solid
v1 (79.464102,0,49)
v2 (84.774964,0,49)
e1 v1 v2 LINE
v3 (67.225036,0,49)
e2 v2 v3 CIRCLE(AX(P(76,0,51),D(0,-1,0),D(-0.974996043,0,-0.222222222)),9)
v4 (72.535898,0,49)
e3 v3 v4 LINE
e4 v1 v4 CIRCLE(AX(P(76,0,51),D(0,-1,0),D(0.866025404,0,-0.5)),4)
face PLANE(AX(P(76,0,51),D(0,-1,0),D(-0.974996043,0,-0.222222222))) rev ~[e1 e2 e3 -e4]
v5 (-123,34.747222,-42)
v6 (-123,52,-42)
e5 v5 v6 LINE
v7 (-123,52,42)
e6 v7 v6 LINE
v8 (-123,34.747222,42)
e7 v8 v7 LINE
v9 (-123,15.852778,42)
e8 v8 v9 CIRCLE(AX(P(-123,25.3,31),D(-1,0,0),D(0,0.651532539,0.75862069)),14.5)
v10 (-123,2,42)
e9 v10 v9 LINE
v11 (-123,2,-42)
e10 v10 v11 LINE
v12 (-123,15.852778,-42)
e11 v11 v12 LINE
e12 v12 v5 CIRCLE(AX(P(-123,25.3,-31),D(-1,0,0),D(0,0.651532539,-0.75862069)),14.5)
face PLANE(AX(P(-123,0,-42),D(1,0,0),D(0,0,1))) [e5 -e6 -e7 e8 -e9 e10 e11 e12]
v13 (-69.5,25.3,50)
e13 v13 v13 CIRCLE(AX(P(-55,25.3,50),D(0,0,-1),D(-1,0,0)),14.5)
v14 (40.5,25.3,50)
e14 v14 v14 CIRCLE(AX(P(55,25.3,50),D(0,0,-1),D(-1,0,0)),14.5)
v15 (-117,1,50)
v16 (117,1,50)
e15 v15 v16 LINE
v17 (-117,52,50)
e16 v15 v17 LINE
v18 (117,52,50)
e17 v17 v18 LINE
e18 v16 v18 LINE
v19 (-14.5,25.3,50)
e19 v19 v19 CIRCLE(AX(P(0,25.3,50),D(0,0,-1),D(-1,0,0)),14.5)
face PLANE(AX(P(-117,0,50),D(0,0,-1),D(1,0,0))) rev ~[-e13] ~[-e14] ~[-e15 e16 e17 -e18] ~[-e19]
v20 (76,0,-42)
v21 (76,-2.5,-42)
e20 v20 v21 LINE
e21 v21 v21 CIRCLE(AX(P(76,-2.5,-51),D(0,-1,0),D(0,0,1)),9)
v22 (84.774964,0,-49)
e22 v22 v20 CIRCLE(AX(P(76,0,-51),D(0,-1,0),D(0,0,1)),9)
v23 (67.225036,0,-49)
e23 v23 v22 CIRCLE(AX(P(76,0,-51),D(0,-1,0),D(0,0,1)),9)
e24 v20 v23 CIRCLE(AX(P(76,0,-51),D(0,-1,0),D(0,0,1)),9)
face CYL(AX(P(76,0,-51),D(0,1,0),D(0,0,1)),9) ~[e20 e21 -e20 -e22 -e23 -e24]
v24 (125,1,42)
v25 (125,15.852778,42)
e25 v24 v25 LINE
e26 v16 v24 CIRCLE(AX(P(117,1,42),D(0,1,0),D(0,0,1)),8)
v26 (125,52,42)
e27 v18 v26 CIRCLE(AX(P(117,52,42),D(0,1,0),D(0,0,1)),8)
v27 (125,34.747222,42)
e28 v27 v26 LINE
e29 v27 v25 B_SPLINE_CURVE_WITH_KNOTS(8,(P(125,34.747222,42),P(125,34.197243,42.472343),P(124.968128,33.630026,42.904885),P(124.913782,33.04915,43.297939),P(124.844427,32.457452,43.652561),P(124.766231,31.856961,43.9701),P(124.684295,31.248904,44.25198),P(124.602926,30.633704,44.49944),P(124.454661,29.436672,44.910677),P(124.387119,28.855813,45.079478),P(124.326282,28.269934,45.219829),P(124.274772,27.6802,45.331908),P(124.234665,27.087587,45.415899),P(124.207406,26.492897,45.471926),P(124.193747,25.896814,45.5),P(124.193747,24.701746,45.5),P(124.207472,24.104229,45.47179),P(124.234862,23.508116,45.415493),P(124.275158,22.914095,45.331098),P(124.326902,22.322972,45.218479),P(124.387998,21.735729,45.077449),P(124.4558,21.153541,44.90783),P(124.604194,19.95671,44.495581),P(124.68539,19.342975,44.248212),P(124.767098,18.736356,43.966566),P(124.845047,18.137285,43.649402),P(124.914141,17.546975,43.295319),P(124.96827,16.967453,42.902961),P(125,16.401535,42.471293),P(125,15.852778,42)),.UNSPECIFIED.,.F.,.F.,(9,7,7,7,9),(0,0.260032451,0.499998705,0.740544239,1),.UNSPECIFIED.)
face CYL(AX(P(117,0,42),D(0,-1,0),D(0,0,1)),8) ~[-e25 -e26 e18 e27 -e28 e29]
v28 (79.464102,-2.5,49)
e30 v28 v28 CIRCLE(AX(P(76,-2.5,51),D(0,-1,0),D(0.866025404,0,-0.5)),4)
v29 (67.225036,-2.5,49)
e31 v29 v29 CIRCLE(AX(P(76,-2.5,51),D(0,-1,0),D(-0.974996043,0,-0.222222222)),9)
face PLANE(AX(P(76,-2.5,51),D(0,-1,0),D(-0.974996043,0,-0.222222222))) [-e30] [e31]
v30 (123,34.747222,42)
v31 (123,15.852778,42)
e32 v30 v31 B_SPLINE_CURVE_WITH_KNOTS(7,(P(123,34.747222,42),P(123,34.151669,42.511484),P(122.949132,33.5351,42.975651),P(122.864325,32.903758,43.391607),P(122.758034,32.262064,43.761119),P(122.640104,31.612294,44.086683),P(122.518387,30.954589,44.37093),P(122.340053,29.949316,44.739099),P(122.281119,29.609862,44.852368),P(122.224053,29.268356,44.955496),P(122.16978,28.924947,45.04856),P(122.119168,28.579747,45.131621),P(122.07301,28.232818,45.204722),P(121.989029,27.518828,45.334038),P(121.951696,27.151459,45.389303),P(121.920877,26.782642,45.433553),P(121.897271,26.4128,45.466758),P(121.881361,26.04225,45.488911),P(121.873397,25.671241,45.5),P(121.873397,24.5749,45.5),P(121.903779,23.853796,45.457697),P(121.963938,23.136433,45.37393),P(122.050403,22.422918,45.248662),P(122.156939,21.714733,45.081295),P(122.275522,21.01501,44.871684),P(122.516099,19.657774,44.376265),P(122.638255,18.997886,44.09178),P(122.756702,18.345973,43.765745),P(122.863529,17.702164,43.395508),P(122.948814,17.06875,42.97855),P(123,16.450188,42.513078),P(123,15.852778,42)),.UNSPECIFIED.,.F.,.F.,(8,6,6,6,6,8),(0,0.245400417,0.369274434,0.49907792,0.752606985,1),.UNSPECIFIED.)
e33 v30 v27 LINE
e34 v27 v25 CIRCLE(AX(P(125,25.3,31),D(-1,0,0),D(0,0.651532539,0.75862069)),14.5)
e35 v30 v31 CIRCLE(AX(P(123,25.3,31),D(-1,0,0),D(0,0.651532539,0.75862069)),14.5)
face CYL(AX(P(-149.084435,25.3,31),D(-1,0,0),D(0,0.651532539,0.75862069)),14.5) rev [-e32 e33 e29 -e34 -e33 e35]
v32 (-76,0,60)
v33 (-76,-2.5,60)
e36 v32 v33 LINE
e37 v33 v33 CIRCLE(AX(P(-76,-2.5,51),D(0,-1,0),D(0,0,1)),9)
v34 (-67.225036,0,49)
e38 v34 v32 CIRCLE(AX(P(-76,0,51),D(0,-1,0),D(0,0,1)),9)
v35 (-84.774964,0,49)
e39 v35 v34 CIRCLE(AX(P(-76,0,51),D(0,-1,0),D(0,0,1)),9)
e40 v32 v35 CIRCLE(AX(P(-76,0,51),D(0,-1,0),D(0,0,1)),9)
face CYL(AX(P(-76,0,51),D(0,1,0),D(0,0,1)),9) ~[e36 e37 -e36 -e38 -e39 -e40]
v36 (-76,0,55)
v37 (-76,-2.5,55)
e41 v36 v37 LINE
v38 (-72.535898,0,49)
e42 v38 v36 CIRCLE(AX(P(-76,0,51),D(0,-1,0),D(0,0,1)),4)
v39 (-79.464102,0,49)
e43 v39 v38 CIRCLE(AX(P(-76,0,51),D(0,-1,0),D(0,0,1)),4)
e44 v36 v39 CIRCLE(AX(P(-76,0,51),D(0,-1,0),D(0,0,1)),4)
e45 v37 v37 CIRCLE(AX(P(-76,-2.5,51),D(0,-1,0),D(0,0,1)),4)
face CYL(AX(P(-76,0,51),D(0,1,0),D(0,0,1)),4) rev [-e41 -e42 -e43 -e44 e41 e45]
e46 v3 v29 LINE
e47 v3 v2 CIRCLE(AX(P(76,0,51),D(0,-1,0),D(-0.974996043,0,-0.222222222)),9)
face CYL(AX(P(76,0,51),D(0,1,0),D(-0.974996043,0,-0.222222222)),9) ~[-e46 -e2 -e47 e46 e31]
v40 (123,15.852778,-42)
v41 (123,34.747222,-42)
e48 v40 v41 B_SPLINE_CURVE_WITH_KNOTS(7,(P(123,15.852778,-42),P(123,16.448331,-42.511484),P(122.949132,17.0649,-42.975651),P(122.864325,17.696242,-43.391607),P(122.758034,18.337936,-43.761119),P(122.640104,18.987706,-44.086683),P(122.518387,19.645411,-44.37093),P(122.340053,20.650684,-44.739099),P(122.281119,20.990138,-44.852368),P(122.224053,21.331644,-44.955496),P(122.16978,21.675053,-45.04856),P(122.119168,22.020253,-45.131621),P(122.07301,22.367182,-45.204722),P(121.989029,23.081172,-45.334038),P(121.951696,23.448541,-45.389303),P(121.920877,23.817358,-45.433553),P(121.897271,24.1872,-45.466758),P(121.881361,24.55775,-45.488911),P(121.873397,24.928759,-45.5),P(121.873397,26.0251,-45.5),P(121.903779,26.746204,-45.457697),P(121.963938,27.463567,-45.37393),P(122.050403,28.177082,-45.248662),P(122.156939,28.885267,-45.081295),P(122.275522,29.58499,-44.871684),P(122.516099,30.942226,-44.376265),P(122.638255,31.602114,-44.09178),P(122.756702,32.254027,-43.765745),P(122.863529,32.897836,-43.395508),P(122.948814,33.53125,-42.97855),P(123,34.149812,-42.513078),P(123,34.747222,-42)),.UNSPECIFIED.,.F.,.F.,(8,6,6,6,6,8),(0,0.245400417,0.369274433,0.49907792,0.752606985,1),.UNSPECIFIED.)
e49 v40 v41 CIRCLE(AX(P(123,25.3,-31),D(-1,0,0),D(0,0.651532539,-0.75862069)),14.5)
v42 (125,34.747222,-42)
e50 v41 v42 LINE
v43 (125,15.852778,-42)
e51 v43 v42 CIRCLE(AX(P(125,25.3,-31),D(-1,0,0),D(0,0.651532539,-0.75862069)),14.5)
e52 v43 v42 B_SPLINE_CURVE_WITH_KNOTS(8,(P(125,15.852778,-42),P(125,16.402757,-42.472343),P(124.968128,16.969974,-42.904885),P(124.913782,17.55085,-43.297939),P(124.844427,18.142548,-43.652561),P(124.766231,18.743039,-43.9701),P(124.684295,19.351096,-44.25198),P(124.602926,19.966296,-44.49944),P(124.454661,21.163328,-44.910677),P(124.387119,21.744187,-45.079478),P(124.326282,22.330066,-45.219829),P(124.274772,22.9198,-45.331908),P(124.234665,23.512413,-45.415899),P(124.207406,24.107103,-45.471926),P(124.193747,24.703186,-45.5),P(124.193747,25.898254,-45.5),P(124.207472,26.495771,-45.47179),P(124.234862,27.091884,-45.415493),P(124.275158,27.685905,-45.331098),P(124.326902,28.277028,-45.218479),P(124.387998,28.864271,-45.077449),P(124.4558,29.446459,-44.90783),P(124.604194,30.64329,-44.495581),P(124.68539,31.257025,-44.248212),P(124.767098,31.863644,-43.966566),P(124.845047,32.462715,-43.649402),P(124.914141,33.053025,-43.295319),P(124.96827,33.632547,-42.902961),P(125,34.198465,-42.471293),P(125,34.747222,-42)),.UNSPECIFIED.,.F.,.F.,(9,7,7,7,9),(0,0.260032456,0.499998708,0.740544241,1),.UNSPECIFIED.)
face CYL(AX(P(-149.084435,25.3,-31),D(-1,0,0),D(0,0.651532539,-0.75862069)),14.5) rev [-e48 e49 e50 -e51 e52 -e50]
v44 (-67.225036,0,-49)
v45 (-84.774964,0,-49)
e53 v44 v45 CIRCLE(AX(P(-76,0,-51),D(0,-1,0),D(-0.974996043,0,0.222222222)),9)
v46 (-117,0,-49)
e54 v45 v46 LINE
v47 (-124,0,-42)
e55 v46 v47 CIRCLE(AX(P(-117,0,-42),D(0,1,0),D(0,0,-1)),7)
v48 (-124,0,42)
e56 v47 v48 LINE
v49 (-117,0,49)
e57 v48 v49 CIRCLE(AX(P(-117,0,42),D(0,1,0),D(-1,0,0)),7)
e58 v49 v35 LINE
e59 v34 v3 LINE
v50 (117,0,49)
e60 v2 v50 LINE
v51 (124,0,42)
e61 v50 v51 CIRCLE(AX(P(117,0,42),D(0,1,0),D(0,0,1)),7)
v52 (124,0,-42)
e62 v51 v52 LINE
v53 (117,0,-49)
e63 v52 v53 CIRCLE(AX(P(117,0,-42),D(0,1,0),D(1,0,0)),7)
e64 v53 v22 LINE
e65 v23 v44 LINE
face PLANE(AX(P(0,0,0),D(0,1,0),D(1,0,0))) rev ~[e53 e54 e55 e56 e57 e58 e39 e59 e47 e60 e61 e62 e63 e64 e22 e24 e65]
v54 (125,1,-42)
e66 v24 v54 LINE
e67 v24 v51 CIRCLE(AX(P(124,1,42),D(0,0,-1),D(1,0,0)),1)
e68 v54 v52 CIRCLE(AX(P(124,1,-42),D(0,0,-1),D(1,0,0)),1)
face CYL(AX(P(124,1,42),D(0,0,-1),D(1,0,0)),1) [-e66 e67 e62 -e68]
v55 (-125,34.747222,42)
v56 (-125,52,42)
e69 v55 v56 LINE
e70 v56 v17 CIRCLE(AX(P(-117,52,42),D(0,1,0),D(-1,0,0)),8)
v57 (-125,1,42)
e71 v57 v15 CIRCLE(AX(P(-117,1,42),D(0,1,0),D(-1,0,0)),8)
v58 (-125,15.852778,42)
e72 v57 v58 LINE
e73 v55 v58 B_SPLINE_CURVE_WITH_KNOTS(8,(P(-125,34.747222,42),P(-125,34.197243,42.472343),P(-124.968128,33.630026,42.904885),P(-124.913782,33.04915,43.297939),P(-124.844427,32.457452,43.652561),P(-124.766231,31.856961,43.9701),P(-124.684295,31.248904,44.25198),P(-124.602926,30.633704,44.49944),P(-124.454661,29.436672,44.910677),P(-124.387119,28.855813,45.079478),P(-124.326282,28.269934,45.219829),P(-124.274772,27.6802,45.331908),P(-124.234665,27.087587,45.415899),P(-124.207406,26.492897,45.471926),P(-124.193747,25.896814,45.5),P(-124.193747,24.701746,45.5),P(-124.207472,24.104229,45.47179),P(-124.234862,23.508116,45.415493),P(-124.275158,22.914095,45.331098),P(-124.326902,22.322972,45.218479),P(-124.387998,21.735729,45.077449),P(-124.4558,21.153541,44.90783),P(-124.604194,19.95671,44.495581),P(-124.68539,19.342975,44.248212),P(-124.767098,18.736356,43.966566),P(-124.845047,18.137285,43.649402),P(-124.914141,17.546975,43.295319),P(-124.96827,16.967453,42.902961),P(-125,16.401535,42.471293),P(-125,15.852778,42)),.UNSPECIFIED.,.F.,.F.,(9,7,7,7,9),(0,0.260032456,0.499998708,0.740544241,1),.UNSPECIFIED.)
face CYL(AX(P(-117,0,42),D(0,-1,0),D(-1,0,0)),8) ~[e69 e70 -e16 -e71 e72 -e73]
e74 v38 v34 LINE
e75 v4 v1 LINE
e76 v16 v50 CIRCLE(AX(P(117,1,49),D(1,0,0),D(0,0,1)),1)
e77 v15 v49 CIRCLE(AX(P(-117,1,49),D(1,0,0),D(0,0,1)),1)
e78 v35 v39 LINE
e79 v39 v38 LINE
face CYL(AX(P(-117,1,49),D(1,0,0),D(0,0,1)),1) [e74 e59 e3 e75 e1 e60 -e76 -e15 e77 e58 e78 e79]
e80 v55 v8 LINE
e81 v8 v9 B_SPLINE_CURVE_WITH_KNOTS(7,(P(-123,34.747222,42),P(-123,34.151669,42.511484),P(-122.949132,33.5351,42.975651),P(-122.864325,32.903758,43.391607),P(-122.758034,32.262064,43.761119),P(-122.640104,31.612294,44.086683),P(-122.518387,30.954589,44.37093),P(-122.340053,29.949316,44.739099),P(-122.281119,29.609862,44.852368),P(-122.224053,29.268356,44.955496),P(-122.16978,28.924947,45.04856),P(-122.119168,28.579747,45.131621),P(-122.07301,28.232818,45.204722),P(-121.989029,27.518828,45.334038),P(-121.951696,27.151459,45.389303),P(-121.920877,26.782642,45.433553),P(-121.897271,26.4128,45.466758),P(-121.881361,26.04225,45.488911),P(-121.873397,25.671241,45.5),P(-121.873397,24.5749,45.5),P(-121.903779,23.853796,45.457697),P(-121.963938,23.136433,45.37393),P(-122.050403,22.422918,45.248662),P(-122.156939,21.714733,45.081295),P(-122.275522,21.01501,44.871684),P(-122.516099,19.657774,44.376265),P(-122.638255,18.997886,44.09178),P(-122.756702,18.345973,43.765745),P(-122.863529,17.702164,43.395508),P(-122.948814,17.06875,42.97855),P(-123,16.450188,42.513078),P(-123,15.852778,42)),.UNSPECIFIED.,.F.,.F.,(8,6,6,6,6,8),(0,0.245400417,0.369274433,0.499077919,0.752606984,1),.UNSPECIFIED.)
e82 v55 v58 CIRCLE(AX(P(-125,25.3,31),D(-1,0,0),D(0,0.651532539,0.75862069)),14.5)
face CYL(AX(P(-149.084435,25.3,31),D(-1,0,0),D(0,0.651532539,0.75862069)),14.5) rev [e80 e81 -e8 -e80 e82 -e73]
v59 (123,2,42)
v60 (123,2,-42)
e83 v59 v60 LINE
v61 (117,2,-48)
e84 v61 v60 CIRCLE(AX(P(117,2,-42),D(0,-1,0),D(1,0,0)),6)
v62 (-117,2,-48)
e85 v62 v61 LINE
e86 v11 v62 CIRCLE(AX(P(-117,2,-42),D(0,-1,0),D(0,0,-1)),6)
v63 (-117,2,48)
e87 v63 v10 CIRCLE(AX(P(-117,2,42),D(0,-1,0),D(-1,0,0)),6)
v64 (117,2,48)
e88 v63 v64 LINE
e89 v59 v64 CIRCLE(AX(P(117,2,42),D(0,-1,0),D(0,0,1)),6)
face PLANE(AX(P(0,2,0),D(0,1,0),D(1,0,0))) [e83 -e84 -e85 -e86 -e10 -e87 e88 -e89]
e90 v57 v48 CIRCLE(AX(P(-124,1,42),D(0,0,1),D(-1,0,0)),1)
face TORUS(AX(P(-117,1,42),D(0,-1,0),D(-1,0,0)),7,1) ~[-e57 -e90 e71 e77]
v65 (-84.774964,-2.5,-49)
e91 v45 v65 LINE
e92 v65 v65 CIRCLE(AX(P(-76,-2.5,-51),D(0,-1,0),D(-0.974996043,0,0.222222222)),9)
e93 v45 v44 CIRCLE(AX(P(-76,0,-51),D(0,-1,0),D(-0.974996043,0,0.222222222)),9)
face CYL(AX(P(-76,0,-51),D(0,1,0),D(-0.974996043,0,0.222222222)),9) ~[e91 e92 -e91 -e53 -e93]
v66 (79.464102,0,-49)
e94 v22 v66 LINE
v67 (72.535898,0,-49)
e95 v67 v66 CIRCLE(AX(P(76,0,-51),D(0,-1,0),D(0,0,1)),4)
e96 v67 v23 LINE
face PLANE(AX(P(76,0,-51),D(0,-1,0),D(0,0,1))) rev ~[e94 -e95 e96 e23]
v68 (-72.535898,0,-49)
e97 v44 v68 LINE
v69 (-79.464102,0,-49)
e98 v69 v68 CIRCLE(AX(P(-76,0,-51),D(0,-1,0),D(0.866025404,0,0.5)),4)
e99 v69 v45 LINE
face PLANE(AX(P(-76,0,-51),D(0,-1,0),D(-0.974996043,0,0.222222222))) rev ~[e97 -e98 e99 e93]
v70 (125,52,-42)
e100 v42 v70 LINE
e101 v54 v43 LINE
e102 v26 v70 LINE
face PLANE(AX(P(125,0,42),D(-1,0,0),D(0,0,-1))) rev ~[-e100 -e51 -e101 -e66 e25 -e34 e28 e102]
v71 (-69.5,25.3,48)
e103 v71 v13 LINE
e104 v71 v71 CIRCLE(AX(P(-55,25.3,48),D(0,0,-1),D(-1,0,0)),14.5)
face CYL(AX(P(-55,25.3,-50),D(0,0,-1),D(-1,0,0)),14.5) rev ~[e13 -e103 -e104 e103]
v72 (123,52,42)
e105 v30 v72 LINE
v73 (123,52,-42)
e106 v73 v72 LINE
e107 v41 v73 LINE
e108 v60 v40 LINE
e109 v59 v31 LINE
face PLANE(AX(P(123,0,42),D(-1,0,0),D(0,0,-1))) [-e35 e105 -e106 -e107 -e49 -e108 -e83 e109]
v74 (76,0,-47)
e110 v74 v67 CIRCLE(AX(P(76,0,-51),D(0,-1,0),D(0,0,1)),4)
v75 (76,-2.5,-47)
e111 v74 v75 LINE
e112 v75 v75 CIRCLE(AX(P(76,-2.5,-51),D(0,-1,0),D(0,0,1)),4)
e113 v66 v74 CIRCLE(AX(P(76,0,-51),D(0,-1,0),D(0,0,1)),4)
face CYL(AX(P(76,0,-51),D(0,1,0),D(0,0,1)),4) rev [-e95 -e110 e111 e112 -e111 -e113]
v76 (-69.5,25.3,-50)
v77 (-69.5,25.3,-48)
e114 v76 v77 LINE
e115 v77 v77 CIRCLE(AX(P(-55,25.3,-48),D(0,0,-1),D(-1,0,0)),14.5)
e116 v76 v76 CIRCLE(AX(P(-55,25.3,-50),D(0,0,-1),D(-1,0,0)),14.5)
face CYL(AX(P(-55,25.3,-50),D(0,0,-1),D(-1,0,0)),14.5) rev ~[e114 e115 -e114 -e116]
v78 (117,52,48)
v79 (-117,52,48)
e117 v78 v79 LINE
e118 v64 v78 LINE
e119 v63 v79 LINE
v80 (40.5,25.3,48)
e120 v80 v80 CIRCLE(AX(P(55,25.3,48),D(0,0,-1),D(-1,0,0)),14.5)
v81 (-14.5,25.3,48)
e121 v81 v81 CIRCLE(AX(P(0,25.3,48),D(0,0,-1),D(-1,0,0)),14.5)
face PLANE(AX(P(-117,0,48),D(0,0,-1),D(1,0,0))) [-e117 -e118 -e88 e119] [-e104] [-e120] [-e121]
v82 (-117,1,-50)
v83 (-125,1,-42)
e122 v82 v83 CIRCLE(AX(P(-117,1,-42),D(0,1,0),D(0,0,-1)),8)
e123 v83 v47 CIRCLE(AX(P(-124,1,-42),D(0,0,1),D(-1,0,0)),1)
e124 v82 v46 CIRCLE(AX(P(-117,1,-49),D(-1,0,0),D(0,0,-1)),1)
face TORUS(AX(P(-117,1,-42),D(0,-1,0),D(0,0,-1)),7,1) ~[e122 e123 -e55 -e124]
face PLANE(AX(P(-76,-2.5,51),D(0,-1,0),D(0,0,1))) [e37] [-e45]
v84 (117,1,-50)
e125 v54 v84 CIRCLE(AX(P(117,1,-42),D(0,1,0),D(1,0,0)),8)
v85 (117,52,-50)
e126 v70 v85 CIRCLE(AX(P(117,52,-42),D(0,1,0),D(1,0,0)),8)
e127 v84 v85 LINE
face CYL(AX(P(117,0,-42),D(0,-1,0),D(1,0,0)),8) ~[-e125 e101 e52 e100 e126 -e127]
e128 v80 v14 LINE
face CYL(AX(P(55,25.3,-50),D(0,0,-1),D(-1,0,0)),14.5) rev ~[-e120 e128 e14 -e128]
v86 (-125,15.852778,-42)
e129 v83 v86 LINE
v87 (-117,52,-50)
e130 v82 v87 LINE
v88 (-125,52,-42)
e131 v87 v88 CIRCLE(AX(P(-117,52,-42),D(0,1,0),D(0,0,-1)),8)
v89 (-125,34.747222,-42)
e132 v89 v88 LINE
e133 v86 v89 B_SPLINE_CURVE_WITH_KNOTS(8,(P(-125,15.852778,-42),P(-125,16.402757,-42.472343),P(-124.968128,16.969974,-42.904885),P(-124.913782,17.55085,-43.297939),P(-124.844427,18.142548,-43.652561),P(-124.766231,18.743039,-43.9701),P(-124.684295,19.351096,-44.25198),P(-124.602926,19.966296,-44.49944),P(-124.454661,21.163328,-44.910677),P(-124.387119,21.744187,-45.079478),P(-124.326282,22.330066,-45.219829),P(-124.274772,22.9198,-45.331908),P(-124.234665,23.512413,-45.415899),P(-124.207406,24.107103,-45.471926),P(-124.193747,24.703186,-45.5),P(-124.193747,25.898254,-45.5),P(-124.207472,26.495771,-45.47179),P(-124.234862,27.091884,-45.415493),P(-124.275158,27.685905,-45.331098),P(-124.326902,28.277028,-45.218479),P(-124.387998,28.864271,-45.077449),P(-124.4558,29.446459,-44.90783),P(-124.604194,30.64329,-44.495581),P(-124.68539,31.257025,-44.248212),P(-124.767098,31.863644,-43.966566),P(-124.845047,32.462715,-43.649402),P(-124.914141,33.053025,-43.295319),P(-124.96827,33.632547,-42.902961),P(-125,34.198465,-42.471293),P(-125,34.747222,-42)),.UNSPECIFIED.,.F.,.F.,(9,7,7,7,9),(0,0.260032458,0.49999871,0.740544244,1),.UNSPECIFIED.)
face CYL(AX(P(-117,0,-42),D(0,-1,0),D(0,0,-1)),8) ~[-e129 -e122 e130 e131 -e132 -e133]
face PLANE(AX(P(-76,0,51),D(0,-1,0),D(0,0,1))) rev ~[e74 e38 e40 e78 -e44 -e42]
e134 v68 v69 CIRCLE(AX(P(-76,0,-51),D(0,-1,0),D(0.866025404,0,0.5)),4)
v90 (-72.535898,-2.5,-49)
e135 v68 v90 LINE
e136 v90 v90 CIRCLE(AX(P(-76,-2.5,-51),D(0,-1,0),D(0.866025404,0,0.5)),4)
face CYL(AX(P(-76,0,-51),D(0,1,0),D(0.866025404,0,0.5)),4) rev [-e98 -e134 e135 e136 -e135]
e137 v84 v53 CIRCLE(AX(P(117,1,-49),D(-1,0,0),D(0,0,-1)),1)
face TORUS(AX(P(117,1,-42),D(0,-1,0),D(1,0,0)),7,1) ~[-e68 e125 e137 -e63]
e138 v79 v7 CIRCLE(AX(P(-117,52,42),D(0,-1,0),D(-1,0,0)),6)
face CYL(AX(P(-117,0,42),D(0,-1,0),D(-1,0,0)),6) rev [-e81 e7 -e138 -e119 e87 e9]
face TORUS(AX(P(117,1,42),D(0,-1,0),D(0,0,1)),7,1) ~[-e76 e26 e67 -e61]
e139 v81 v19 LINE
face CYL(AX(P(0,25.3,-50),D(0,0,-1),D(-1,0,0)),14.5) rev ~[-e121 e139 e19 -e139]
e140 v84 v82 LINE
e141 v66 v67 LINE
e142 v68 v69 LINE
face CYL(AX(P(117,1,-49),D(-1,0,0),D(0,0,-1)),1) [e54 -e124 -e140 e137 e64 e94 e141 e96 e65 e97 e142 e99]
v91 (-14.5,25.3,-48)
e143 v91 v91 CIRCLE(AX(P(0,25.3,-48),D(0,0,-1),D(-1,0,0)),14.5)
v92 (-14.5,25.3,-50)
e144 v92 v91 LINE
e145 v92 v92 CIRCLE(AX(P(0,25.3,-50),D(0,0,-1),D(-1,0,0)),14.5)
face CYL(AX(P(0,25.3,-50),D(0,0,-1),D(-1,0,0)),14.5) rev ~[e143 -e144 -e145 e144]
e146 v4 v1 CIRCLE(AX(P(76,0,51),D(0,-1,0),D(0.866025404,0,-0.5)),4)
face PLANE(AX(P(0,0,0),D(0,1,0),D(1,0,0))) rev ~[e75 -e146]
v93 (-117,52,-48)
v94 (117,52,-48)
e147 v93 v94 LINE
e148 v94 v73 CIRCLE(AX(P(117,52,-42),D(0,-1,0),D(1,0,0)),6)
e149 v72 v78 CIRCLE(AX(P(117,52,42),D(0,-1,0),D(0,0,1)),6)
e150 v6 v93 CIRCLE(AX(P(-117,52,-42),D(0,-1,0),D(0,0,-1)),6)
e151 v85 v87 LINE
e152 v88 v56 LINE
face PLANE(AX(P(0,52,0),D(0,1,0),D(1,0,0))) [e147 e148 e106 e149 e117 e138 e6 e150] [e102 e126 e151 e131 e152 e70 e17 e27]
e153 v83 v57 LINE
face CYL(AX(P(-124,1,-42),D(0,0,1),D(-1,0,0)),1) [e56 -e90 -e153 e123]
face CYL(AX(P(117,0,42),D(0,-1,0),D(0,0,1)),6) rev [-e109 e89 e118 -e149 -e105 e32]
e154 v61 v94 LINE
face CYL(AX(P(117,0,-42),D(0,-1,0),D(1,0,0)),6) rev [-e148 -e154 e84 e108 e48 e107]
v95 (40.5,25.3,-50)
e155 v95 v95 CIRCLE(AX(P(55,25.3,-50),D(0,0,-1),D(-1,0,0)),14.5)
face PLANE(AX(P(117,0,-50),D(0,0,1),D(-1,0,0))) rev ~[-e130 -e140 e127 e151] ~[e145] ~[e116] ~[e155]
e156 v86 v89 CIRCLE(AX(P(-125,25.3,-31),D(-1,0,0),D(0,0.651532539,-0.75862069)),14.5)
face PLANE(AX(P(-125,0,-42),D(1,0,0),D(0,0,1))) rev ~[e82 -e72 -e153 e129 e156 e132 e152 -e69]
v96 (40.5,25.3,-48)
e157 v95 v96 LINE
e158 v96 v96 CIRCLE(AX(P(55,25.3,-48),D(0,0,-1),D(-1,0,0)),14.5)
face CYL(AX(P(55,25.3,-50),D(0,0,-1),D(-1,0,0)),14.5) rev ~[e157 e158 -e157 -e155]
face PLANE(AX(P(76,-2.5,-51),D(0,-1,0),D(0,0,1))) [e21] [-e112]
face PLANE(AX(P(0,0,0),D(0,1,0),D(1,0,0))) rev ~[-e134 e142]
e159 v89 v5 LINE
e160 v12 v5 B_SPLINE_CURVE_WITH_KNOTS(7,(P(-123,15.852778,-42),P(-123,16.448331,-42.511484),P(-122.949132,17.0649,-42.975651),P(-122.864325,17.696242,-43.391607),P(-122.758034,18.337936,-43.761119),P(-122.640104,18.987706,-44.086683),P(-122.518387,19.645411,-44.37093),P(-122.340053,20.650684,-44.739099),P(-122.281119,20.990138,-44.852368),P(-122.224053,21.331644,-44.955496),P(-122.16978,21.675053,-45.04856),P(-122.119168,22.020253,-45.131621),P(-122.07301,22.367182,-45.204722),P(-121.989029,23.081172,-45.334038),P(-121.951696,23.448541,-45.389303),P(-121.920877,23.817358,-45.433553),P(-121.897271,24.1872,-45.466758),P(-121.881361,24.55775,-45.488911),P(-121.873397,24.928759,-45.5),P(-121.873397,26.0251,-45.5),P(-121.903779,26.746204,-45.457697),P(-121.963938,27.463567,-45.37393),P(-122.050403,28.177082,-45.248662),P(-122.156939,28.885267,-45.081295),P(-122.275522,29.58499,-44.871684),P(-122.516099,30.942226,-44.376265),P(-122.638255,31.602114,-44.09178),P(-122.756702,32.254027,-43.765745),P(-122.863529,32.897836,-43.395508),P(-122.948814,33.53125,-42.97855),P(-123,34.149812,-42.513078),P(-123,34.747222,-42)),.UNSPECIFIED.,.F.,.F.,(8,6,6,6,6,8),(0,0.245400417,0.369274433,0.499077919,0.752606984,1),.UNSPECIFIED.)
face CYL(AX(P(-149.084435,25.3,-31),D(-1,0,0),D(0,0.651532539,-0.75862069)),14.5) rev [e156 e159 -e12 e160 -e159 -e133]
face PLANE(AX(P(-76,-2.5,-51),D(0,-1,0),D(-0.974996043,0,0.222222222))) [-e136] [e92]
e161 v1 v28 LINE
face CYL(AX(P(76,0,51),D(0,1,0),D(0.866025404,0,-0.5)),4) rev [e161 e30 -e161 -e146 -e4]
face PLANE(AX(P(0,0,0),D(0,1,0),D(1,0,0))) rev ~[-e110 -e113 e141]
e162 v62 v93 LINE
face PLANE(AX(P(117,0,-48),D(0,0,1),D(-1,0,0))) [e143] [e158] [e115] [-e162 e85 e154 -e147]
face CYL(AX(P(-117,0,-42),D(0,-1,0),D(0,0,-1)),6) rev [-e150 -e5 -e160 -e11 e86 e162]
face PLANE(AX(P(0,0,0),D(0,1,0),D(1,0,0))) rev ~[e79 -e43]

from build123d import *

# Parameters (mm, degrees)
BOSS_EXTRUDE1_DEPTH     = 52
FILLET1_R               = 1
SHELL1_T                = -2
SKETCH2_R               = 9
SKETCH2_R_2             = 4
BOSS_EXTRUDE2_DEPTH     = 2.5
SKETCH3_R               = 14.5
CUT_EXTRUDE1_DEPTH      = 175.439101121
CUT_EXTRUDE2_DEPTH      = 149.084435374
CUT_EXTRUDE2_DEPTH_BACK = 149.084435374
SKETCH4_R               = 14.5


with BuildPart() as part:
    # Sketch1 → Boss-Extrude1 (new body)
    with BuildSketch(Plane(origin=(0, 0, 0), x_dir=(1, 0, 0), z_dir=(0, 1, 0))):
        with BuildLine():
            Line((125, -42), (125, 42))
            ThreePointArc((125, 42), (122.656854249, 47.656854249), (117, 50))
            Line((117, 50), (-117, 50))
            ThreePointArc((-117, 50), (-122.656854249, 47.656854249), (-125, 42))
            Line((-125, 42), (-125, -42))
            ThreePointArc((-125, -42), (-122.656854249, -47.656854249), (-117, -50))
            Line((-117, -50), (117, -50))
            ThreePointArc((117, -50), (122.656854249, -47.656854249), (125, -42))
        make_face()
    extrude(amount=BOSS_EXTRUDE1_DEPTH)

    # Fillet1
    fillet1_edges = [part.edges().sort_by_distance(p)[0] for p in [
        (0, 0, -50),
        (122.656854249, 0, -47.656854249),
        (125, 0, 0),
        (122.656854249, 0, 47.656854249),
        (0, 0, 50),
        (-122.656854249, 0, 47.656854249),
        (-125, 0, 0),
        (-122.656854249, 0, -47.656854249),
    ]]
    fillet(fillet1_edges, radius=FILLET1_R)

    # Shell1
    shell1_openings = [part.faces().sort_by_distance(p)[0] for p in [
        (0, 52, 0),
    ]]
    offset(amount=SHELL1_T, openings=shell1_openings, kind=Kind.INTERSECTION)

    # Sketch2 → Boss-Extrude2 (add)
    # profile 1 of 4: a face of its own
    with BuildSketch(Plane.XZ):
        with Locations(Location((76, 51, 0), (0, 0, 192.839588407))):
            Circle(SKETCH2_R)
        with Locations(Location((76, 51, 0), (0, 0, 330))):
            Circle(SKETCH2_R_2, mode=Mode.SUBTRACT)
    # profile 2 of 4: a face of its own
    with BuildSketch(Plane.XZ):
        with Locations(Location((76, -51, 0), (0, 0, 90))):
            Circle(SKETCH2_R)
        with Locations(Location((76, -51, 0), (0, 0, 90))):
            Circle(SKETCH2_R_2, mode=Mode.SUBTRACT)
    # profile 3 of 4: a face of its own
    with BuildSketch(Plane.XZ):
        with Locations(Location((-76, -51, 0), (0, 0, 167.160411593))):
            Circle(SKETCH2_R)
        with Locations(Location((-76, -51, 0), (0, 0, 30))):
            Circle(SKETCH2_R_2, mode=Mode.SUBTRACT)
    # profile 4 of 4: a face of its own
    with BuildSketch(Plane.XZ):
        with Locations(Location((-76, 51, 0), (0, 0, 90))):
            Circle(SKETCH2_R)
        with Locations(Location((-76, 51, 0), (0, 0, 90))):
            Circle(SKETCH2_R_2, mode=Mode.SUBTRACT)
    extrude(amount=BOSS_EXTRUDE2_DEPTH)

    # Sketch3 → Cut-Extrude1 (cut, through all)
    with BuildSketch(Plane(origin=(0, 0, -50), x_dir=(-1, 0, 0), z_dir=(0, 0, -1))):
        with Locations((-55, 25.3)):
            Circle(SKETCH3_R)
        with Locations((0, 25.3)):
            Circle(SKETCH3_R)
        with Locations((55, 25.3)):
            Circle(SKETCH3_R)
    extrude(amount=-CUT_EXTRUDE1_DEPTH, mode=Mode.SUBTRACT)

    # Sketch4 → Cut-Extrude2 (cut, two sides: drawn at the far end of the back side and taken through both)
    with BuildSketch(Plane(origin=(0, 0, 0), x_dir=(0, 0, -1), z_dir=(1, 0, 0)).offset(-CUT_EXTRUDE2_DEPTH_BACK)):
        with Locations(Location((31, 25.3, 0), (0, 0, 40.657248638))):
            Circle(SKETCH4_R)
        with Locations(Location((-31, 25.3, 0), (0, 0, 139.342751362))):
            Circle(SKETCH4_R)
    extrude(amount=CUT_EXTRUDE2_DEPTH + CUT_EXTRUDE2_DEPTH_BACK, mode=Mode.SUBTRACT)


solid = part.part
